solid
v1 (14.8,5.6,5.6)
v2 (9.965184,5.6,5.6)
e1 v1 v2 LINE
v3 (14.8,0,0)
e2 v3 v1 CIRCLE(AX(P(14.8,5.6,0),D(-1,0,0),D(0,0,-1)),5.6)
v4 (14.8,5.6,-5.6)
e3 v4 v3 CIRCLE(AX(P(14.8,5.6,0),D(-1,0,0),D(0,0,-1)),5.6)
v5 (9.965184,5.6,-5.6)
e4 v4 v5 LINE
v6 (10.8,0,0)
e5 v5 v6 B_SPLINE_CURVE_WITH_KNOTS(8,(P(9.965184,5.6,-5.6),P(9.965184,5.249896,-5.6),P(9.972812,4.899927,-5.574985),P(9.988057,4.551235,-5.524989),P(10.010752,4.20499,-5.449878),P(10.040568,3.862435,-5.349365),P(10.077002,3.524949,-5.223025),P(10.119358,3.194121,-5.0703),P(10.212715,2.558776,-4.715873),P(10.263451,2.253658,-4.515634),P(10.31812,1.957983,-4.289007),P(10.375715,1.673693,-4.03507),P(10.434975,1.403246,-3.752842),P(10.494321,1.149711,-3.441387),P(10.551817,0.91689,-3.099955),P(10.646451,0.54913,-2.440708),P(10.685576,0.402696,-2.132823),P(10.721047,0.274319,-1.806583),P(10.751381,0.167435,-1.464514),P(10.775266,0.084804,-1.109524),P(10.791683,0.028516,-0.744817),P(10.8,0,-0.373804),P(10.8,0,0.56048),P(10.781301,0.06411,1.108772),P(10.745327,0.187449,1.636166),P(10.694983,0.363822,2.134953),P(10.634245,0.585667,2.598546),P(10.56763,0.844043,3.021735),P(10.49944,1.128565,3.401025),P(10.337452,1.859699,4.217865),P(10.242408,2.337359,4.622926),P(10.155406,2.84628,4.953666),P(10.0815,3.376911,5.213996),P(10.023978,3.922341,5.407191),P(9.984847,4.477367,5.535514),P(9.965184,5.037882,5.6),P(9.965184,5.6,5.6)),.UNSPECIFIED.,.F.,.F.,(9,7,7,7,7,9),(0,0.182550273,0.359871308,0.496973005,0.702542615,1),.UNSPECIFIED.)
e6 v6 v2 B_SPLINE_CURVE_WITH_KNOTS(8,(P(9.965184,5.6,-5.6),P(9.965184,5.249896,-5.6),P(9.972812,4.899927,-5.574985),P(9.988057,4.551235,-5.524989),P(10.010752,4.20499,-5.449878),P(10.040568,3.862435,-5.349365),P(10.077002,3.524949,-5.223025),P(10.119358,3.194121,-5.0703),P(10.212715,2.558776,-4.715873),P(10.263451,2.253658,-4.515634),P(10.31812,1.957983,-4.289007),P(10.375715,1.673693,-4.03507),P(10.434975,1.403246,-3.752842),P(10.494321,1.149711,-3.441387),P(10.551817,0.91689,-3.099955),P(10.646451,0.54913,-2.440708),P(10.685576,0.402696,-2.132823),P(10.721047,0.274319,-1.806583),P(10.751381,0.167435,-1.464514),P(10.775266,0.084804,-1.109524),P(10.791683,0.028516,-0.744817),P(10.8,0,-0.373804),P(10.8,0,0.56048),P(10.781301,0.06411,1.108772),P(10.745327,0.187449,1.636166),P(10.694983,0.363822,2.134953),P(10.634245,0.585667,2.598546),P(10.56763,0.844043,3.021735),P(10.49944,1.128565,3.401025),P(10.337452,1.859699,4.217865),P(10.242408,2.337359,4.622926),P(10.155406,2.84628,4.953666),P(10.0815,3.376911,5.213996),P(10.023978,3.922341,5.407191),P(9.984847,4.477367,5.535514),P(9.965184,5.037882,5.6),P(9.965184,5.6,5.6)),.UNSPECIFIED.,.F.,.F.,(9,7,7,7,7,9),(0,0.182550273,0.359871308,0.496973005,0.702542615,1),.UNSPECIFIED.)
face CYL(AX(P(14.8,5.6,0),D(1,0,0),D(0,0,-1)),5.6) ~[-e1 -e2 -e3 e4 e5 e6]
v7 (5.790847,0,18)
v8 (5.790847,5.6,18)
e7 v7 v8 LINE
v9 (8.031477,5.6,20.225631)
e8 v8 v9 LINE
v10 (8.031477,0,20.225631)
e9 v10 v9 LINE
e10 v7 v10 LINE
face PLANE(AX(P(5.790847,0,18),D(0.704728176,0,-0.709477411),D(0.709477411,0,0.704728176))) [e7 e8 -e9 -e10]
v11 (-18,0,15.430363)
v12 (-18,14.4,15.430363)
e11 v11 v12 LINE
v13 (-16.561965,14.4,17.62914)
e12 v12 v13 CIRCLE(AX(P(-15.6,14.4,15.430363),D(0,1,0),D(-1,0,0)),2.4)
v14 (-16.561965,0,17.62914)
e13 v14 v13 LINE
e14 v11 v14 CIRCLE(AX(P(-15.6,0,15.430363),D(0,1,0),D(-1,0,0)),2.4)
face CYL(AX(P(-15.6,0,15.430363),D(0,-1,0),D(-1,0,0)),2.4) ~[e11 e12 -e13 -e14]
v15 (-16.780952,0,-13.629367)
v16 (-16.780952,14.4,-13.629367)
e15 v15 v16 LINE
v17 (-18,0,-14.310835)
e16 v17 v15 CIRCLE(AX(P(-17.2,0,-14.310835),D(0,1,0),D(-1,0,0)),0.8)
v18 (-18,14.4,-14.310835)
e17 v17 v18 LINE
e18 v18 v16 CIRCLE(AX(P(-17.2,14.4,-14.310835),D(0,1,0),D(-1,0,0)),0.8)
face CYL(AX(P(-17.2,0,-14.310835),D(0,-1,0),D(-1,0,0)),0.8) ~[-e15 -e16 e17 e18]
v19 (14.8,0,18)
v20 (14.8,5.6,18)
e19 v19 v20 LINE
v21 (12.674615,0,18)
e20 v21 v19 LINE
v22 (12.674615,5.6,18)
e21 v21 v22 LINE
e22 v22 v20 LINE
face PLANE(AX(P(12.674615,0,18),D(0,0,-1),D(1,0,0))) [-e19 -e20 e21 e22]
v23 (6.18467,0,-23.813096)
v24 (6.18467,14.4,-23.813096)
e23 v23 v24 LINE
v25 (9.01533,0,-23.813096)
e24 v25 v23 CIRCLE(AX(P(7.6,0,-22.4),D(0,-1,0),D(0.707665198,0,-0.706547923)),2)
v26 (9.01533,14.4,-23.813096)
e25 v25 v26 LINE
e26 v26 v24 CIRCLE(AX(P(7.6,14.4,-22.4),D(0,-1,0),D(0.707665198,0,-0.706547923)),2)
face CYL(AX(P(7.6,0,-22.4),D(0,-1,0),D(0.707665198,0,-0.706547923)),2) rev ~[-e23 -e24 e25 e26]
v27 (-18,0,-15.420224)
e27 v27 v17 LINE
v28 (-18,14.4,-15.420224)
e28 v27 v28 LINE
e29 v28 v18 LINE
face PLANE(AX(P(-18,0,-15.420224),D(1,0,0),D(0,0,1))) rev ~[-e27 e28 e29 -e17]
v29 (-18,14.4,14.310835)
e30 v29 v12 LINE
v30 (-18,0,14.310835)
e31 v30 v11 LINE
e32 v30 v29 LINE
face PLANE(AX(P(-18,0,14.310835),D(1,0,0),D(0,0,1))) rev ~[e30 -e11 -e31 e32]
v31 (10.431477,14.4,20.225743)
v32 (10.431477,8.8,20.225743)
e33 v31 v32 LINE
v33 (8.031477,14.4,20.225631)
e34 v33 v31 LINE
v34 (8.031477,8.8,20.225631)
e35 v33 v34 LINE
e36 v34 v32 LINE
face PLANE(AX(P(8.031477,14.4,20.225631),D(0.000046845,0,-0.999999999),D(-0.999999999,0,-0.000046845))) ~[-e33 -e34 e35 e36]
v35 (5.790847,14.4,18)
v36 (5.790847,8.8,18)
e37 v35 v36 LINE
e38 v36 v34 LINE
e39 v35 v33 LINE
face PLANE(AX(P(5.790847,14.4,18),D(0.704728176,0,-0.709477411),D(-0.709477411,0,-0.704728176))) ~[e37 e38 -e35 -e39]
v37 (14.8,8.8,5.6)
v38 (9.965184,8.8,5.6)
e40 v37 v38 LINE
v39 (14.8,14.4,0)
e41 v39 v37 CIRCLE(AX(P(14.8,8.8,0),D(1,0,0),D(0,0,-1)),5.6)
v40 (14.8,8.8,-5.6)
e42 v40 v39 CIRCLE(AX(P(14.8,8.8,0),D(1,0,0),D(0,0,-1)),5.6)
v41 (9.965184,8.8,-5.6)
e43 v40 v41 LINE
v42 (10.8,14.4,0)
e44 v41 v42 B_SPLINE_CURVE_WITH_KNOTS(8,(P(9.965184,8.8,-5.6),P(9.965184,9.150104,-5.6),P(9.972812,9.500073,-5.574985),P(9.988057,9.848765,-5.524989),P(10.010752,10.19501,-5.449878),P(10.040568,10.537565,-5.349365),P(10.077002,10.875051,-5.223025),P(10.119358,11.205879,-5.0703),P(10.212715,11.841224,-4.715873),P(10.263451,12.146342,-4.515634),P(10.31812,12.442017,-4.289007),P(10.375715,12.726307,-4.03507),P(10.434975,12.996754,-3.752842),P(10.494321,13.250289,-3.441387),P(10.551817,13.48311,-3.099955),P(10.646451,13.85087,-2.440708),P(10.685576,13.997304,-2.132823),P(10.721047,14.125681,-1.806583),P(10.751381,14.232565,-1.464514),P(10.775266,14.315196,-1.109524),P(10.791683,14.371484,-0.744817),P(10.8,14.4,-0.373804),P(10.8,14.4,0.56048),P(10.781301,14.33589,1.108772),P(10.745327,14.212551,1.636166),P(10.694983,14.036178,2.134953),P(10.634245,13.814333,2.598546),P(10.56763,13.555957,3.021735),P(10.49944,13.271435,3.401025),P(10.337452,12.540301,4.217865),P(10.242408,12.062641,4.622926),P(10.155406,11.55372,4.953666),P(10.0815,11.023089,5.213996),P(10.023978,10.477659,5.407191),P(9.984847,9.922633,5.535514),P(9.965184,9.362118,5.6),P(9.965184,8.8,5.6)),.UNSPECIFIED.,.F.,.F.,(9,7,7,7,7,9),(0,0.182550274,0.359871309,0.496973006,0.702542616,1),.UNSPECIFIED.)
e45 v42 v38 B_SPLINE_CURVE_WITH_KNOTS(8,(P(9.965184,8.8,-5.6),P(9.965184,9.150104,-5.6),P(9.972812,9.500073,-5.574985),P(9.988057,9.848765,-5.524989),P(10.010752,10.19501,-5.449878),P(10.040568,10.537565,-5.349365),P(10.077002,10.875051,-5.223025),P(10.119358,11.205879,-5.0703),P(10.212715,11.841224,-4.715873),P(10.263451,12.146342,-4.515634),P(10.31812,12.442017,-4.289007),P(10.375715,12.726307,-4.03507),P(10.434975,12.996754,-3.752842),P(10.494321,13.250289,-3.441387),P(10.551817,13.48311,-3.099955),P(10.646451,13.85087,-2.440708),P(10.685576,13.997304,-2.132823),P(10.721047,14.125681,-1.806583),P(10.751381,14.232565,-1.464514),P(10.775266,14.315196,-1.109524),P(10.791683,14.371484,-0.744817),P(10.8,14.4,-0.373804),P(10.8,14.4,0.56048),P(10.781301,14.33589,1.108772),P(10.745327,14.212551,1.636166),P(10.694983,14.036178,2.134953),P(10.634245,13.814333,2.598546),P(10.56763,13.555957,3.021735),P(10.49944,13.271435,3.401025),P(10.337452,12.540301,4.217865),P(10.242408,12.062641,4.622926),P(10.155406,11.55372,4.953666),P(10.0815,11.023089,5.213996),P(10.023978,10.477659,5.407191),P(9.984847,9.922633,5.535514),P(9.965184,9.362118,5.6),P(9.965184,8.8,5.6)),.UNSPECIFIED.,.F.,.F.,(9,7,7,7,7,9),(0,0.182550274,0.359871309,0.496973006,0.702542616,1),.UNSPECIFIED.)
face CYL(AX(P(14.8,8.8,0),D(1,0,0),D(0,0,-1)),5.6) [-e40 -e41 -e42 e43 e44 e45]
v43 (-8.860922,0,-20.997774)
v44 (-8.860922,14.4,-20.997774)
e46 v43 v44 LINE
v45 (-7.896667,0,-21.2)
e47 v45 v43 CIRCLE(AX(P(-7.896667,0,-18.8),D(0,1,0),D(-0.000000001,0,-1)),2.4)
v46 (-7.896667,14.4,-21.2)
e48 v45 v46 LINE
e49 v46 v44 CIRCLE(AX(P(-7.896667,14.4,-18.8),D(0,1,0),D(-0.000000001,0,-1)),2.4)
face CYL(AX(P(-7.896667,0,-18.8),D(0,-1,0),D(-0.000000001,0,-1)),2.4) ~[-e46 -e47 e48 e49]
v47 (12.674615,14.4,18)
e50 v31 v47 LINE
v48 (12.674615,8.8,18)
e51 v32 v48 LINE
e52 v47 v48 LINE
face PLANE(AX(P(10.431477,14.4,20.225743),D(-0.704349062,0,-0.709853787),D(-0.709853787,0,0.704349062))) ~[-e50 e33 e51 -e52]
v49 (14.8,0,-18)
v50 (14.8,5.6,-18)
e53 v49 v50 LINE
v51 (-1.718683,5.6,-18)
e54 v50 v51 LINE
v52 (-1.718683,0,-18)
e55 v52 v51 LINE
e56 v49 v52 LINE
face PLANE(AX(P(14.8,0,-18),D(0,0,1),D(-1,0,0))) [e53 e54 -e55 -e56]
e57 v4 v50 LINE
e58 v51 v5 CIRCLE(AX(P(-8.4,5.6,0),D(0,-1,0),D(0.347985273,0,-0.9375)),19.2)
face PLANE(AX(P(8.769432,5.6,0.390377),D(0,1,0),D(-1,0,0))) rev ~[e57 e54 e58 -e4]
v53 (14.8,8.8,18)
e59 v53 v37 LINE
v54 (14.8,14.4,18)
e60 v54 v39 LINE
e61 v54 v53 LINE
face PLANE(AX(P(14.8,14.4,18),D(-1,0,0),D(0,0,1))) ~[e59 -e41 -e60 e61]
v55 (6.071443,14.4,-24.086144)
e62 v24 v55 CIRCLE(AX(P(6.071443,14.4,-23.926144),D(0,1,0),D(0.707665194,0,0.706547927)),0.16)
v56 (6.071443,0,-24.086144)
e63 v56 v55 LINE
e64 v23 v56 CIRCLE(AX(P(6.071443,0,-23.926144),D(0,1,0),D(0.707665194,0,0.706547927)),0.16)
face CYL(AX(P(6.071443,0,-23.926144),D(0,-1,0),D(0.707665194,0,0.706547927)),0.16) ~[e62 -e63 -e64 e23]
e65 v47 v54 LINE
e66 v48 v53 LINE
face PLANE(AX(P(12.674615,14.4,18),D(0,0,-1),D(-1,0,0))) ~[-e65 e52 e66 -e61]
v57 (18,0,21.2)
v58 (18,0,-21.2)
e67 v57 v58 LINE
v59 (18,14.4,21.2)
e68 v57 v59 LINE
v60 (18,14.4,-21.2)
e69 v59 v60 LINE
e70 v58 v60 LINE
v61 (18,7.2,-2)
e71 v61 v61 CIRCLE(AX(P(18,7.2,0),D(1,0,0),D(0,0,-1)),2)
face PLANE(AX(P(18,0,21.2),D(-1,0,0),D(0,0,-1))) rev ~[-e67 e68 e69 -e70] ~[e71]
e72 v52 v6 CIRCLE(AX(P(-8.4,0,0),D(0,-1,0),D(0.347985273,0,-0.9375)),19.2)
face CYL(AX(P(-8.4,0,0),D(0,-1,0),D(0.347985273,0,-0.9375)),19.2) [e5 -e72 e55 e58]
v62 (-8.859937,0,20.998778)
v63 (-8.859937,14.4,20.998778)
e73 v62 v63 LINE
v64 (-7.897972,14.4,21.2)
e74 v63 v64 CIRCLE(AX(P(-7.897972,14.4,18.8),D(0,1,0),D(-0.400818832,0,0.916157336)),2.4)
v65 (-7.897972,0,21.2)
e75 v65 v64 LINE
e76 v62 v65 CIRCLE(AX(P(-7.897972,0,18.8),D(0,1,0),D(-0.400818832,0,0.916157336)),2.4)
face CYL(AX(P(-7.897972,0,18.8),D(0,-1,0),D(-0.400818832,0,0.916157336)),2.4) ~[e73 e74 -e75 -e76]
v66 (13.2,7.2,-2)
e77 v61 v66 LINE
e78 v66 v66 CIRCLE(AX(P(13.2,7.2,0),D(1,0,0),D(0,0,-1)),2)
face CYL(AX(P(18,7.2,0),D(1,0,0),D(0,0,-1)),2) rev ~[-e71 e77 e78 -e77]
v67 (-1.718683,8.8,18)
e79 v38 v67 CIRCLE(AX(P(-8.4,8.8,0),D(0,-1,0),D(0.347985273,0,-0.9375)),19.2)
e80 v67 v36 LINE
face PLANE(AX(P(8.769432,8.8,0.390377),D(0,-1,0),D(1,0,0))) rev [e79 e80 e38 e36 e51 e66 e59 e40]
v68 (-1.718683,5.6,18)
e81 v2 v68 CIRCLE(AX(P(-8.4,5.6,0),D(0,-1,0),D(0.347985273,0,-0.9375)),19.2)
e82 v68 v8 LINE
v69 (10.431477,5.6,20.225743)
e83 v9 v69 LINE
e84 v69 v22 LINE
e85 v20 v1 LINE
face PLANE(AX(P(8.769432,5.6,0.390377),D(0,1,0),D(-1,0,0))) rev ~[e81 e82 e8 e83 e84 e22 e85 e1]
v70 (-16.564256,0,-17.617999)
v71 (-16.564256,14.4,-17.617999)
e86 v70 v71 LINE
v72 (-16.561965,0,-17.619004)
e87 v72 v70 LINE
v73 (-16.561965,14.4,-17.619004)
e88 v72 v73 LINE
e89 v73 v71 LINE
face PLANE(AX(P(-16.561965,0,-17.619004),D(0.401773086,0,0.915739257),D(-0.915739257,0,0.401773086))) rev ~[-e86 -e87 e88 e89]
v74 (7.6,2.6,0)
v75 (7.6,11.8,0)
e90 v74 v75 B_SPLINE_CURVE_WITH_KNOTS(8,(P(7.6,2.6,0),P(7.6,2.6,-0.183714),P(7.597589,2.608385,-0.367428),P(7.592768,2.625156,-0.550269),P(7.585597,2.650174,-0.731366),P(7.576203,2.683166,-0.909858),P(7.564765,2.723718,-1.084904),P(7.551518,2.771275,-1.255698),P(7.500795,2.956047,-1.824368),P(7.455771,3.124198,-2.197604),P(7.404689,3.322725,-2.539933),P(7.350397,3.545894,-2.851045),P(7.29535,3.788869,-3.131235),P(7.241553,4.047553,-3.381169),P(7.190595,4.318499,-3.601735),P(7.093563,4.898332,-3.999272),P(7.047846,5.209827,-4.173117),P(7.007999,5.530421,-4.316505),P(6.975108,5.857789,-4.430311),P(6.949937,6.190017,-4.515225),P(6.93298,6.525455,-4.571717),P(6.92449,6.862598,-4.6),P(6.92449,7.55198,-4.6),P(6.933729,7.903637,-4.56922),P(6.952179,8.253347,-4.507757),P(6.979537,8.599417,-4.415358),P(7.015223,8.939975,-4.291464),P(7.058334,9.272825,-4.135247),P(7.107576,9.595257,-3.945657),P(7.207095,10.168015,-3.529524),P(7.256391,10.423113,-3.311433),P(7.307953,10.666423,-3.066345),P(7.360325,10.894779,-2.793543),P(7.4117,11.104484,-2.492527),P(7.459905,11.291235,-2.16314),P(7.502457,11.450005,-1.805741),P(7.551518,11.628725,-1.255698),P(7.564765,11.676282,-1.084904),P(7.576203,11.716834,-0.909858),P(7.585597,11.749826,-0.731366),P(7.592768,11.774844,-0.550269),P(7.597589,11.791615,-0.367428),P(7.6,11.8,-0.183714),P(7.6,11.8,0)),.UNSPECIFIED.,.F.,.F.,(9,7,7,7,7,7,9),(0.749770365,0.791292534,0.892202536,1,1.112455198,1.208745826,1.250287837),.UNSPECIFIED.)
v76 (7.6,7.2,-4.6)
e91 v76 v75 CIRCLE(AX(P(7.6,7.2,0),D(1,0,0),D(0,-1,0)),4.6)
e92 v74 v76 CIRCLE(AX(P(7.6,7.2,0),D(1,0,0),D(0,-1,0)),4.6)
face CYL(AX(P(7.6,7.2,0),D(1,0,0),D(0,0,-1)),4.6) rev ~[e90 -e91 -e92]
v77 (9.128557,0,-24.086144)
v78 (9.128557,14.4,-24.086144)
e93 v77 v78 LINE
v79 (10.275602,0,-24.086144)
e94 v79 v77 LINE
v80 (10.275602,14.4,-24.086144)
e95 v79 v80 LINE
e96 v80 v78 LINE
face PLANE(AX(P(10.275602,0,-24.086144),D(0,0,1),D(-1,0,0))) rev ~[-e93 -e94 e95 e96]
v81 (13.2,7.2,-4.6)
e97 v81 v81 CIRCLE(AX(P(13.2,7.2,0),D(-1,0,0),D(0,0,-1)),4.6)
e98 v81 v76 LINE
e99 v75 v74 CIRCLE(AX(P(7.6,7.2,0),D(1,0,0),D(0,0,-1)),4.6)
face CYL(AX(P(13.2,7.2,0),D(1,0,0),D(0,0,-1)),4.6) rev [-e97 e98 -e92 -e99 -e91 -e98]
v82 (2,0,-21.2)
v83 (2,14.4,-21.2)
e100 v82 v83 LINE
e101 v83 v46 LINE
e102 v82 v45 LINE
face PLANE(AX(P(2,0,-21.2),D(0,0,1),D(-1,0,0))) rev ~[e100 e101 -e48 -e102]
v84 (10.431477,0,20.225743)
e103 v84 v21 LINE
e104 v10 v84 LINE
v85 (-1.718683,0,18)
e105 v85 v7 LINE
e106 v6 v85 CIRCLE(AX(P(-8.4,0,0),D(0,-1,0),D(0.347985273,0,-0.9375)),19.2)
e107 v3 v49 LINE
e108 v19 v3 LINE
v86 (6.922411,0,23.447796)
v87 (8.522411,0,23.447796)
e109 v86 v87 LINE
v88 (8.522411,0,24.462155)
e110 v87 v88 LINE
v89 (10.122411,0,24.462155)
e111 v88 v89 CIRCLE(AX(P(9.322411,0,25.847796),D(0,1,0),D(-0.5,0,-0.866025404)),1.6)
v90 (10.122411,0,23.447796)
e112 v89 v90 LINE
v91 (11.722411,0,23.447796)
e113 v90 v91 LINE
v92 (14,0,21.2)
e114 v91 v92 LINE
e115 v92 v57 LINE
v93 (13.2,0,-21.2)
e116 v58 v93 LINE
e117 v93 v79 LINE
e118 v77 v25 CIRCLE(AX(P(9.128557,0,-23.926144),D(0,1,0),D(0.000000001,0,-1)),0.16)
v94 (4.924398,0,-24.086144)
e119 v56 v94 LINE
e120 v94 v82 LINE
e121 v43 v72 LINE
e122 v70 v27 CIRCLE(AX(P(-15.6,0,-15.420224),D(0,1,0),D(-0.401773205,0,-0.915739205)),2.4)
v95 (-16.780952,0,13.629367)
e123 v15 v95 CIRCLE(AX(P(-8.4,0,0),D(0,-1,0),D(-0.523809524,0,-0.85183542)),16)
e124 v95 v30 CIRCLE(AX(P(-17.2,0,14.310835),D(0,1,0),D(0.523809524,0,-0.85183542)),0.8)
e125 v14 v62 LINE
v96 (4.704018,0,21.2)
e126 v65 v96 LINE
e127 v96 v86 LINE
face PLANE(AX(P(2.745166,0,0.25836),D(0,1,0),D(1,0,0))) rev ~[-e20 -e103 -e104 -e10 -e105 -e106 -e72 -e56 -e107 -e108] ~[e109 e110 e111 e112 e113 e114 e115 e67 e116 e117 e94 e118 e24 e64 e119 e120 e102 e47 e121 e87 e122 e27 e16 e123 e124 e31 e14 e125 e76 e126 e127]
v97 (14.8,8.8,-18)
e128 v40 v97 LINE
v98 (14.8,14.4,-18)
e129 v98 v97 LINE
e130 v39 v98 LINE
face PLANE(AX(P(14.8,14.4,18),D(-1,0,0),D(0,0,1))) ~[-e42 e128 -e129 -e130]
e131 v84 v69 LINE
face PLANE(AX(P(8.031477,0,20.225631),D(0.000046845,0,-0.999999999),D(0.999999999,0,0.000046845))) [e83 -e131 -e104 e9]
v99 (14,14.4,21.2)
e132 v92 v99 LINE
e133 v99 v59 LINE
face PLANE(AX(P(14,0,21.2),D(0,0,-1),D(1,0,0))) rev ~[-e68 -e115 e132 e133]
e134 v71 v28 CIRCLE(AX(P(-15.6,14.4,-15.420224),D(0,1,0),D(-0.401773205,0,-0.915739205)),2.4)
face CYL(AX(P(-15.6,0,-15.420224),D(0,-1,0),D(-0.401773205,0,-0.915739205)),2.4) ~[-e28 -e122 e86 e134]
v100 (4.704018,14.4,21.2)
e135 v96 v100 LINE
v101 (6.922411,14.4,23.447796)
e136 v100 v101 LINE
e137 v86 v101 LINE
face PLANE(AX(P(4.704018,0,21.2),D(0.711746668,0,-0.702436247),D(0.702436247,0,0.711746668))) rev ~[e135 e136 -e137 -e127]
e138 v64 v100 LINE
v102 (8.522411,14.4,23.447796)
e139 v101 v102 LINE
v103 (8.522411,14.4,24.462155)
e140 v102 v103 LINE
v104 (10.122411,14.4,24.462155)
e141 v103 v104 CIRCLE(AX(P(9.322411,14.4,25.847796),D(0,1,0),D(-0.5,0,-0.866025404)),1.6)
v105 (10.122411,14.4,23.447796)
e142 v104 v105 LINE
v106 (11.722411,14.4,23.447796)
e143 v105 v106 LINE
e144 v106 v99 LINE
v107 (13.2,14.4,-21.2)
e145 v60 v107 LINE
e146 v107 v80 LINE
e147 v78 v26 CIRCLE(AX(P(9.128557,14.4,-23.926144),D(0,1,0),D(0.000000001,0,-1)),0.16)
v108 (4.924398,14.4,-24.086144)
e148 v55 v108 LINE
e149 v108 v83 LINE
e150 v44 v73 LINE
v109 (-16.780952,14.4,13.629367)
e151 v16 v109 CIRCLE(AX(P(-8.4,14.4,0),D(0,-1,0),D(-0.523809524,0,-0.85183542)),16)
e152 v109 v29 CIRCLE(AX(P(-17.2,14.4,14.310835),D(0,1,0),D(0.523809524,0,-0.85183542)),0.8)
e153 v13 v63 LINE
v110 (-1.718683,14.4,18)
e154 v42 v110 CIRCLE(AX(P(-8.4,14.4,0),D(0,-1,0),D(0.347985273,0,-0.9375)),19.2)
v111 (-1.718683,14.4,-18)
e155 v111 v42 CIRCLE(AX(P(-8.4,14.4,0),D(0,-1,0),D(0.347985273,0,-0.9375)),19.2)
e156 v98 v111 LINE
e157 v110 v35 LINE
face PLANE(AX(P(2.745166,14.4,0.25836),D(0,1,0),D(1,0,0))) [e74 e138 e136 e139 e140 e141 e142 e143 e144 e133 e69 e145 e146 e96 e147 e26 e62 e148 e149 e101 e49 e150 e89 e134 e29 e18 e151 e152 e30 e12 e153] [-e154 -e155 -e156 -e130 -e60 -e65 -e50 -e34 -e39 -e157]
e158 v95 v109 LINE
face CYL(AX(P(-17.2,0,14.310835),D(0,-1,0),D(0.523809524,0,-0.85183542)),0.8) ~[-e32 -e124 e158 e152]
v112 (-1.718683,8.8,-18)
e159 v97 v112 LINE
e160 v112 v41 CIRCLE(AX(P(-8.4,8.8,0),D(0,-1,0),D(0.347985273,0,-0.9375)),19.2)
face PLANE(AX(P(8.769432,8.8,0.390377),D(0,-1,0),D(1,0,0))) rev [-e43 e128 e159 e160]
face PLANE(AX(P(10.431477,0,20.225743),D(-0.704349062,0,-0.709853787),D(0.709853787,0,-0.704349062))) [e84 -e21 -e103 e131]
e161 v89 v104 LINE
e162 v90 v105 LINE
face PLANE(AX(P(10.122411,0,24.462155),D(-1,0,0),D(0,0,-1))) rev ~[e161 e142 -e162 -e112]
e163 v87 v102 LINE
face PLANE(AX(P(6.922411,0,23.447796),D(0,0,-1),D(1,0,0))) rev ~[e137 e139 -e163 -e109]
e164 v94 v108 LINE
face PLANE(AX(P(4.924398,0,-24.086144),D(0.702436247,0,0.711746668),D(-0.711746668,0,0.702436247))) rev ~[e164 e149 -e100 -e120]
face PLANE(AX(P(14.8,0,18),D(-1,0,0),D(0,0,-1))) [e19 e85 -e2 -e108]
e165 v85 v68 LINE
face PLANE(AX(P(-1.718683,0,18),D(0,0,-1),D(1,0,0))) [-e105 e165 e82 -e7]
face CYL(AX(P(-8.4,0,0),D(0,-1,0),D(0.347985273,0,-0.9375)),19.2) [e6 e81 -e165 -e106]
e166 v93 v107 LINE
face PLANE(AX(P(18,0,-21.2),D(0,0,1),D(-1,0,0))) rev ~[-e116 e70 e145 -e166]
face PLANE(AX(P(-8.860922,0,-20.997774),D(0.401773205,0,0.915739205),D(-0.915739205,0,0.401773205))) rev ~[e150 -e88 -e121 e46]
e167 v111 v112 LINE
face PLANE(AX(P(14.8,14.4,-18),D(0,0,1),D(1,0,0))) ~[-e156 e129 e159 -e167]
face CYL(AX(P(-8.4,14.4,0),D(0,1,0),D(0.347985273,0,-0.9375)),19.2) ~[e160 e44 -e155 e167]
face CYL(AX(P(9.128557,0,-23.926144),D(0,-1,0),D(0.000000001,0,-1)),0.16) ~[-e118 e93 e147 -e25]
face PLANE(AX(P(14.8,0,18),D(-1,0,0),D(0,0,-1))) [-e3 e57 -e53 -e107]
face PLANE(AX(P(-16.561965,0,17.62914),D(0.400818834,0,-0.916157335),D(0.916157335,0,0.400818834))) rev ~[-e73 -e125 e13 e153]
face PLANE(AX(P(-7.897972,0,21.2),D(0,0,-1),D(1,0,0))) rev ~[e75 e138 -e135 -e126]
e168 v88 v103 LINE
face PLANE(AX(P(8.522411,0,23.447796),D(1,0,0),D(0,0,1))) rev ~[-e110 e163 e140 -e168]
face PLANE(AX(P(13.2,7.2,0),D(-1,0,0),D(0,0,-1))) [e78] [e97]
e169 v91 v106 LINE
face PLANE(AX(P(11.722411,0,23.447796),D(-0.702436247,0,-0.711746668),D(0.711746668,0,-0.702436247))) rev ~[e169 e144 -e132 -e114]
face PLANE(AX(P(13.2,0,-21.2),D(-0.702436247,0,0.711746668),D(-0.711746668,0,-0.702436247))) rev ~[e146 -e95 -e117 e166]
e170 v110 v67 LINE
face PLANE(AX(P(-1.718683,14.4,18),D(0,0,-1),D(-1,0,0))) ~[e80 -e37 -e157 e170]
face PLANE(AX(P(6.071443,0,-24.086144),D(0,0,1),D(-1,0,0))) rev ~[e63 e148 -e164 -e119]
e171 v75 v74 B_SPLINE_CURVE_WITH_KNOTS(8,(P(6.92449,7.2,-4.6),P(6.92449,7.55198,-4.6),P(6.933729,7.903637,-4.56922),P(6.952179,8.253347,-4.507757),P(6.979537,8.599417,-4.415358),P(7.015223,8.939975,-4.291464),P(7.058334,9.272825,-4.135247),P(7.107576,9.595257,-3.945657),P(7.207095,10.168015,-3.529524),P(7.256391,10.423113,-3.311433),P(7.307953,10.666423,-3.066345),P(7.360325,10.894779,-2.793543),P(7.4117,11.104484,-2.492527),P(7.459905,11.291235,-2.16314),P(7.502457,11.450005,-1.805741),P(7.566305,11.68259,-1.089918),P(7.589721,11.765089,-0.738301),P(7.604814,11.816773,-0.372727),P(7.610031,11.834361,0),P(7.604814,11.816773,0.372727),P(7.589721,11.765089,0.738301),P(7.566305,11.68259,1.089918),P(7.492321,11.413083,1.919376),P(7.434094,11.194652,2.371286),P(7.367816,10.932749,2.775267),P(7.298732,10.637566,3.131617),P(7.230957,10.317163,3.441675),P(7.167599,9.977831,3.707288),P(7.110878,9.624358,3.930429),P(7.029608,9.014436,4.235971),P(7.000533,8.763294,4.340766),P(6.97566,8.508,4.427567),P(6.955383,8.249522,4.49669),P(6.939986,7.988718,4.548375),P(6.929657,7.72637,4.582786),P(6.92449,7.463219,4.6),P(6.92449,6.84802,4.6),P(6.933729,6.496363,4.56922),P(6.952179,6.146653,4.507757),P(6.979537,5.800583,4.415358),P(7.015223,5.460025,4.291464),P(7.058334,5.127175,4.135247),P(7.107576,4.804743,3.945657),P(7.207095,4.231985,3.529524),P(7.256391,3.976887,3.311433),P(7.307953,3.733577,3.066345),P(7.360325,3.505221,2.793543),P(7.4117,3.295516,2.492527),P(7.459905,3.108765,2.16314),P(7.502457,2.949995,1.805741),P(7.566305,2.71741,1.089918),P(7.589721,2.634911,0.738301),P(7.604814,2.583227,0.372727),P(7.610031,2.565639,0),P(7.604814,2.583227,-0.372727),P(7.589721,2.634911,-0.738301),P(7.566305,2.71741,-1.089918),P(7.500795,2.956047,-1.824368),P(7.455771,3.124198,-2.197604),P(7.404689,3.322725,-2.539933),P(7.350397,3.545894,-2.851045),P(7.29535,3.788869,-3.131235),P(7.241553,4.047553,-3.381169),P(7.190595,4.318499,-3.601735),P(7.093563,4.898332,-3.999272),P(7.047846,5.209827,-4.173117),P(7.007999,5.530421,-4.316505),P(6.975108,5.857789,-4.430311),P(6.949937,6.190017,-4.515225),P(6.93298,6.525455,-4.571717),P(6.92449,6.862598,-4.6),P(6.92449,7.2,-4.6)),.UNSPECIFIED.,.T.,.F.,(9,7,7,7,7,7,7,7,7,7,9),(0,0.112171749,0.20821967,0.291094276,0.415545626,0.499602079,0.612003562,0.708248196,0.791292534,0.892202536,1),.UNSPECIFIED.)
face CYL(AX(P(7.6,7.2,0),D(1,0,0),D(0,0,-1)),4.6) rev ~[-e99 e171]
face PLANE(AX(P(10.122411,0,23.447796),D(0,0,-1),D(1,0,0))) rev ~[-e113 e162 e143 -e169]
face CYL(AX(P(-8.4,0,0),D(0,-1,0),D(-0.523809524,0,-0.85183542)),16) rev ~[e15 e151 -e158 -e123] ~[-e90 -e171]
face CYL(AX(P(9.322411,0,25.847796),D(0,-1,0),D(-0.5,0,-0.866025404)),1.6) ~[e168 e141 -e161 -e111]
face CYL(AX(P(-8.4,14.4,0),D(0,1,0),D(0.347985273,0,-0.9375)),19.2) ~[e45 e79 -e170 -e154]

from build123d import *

# Parameters (mm, degrees)
BOSS_EXTRUDE1_DEPTH = 18
CUT_EXTRUDE1_DEPTH  = 7
BOSS_EXTRUDE2_DEPTH = 7
SKETCH4_R           = 2.5
CUT_EXTRUDE2_DEPTH  = 6
SKETCH5_R           = 5.75
CUT_EXTRUDE3_DEPTH  = 7
CUT_EXTRUDE4_START  = -7
SKETCH6_R           = 5.75
CUT_EXTRUDE4_DEPTH  = 7
SCALE1_SCALE        = 0.75
SCALE2_SCALE        = 1.066666667


with BuildPart() as part:
    # Sketch1 → Boss-Extrude1 (new body)
    with BuildSketch(Plane(origin=(0, 0, 0), x_dir=(1, 0, 0), z_dir=(0, 1, 0))):
        with BuildLine():
            Line((10.653013329, -29.309744988), (10.653013329, -30.57769418))
            ThreePointArc((10.653013329, -30.57769418), (11.653013329, -34.309744988), (12.653013329, -30.57769418))
            Line((12.653013329, -30.57769418), (12.653013329, -29.309744988))
            Line((12.653013329, -29.309744988), (14.653013329, -29.309744988))
            Line((14.653013329, -29.309744988), (17.5, -26.5))
            Line((17.5, -26.5), (22.5, -26.5))
            Line((22.5, -26.5), (22.5, 26.5))
            Line((22.5, 26.5), (16.5, 26.5))
            Line((16.5, 26.5), (12.844502727, 30.107679392))
            Line((12.844502727, 30.107679392), (11.410696035, 30.107679392))
            ThreePointArc((11.410696035, 30.107679392), (11.225950376, 29.984289062), (11.269162996, 29.766369807))
            ThreePointArc((11.269162996, 29.766369807), (9.5, 25.5), (7.730837004, 29.766369807))
            ThreePointArc((7.730837004, 29.766369807), (7.774049624, 29.984289062), (7.589303965, 30.107679392))
            Line((7.589303965, 30.107679392), (6.155497273, 30.107679392))
            Line((6.155497273, 30.107679392), (2.5, 26.5))
            Line((2.5, 26.5), (-9.870833143, 26.5))
            ThreePointArc((-9.870833143, 26.5), (-10.486603861, 26.436124388), (-11.076152757, 26.247217616))
            Line((-11.076152757, 26.247217616), (-20.702456422, 22.023754373))
            Line((-20.702456422, 22.023754373), (-20.705319614, 22.022498171))
            ThreePointArc((-20.705319614, 22.022498171), (-22.011569115, 20.916018371), (-22.5, 19.275280555))
            Line((-22.5, 19.275280555), (-22.5, 17.88854382))
            ThreePointArc((-22.5, 17.88854382), (-21.987950036, 17.015672259), (-20.976190476, 17.0367084))
            ThreePointArc((-20.976190476, 17.0367084), (9.5, 0), (-20.976190476, -17.0367084))
            ThreePointArc((-20.976190476, -17.0367084), (-21.987950036, -17.015672259), (-22.5, -17.88854382))
            Line((-22.5, -17.88854382), (-22.5, -19.287953276))
            ThreePointArc((-22.5, -19.287953276), (-22.010713993, -20.929999331), (-20.702456502, -22.03642528))
            Line((-20.702456502, -22.03642528), (-11.074921132, -26.248472005))
            ThreePointArc((-11.074921132, -26.248472005), (-10.486705619, -26.43644479), (-9.87246463, -26.5))
            Line((-9.87246463, -26.5), (5.880022863, -26.5))
            Line((5.880022863, -26.5), (8.653013329, -29.309744988))
            Line((8.653013329, -29.309744988), (10.653013329, -29.309744988))
        make_face()
    extrude(amount=BOSS_EXTRUDE1_DEPTH)

    # Sketch2 → Cut-Extrude1 (cut)
    with BuildSketch(Plane.XZ):
        with BuildLine():
            Line((18.5, 22.5), (18.5, -22.5))
            Line((18.5, -22.5), (-2.148353456, -22.5))
            ThreePointArc((-2.148353456, -22.5), (13.5, 0), (-2.148353456, 22.5))
            Line((-2.148353456, 22.5), (7.238559187, 22.5))
            Line((7.238559187, 22.5), (10.039345887, 25.282038261))
            Line((10.039345887, 25.282038261), (13.039345883, 25.282178795))
            Line((13.039345883, 25.282178795), (15.843268341, 22.5))
            Line((15.843268341, 22.5), (18.5, 22.5))
        make_face()
    cut_extrude1 = extrude(amount=-CUT_EXTRUDE1_DEPTH, mode=Mode.SUBTRACT)

    # Mirror1: Cut-Extrude1 across plane
    add(cut_extrude1.mirror(Plane(origin=(0, 9, 0), x_dir=(0, 0, 1), z_dir=(0, -1, 0))), mode=Mode.SUBTRACT)

    # Sketch3 → Boss-Extrude2 (add)
    with BuildSketch(Plane.ZY.offset(-18.5)):
        with BuildLine():
            Line((7, 7), (-7, 7))
            ThreePointArc((-7, 7), (0, 0), (7, 7))
        make_face()
    boss_extrude2 = extrude(amount=BOSS_EXTRUDE2_DEPTH)

    # Mirror2: Boss-Extrude2 across plane
    add(boss_extrude2.mirror(Plane(origin=(0, 9, 0), x_dir=(0, 0, 1), z_dir=(0, -1, 0))))

    # Sketch4 → Cut-Extrude2 (cut)
    with BuildSketch(Plane(origin=(22.5, 0, 0), x_dir=(0, 0, -1), z_dir=(1, 0, 0))):
        with Locations((0, 9)):
            Circle(SKETCH4_R)
    extrude(amount=-CUT_EXTRUDE2_DEPTH, mode=Mode.SUBTRACT)

    # Sketch5 → Cut-Extrude3 (cut)
    with BuildSketch(Plane(origin=(9.5, 0, 0), x_dir=(0, 0, -1), z_dir=(1, 0, 0))):
        with Locations((0, 9)):
            Circle(SKETCH5_R)
    extrude(amount=-CUT_EXTRUDE3_DEPTH, mode=Mode.SUBTRACT)

    # Sketch6 → Cut-Extrude4 (cut)
    with BuildSketch(Plane.ZY.offset(-9.5).offset(CUT_EXTRUDE4_START)):
        with Locations(Location((0, 9, 0), (0, 0, 180))):
            Circle(SKETCH6_R)
    extrude(amount=CUT_EXTRUDE4_DEPTH, mode=Mode.SUBTRACT)


with BuildPart() as part_1:
    # Scale1: scaled about (0, 0, 0)
    add(part.part.scale(SCALE1_SCALE))


with BuildPart() as part_2:
    # Scale2: scaled about (0, 0, 0)
    add(part_1.part.scale(SCALE2_SCALE))


solid = part_2.part
